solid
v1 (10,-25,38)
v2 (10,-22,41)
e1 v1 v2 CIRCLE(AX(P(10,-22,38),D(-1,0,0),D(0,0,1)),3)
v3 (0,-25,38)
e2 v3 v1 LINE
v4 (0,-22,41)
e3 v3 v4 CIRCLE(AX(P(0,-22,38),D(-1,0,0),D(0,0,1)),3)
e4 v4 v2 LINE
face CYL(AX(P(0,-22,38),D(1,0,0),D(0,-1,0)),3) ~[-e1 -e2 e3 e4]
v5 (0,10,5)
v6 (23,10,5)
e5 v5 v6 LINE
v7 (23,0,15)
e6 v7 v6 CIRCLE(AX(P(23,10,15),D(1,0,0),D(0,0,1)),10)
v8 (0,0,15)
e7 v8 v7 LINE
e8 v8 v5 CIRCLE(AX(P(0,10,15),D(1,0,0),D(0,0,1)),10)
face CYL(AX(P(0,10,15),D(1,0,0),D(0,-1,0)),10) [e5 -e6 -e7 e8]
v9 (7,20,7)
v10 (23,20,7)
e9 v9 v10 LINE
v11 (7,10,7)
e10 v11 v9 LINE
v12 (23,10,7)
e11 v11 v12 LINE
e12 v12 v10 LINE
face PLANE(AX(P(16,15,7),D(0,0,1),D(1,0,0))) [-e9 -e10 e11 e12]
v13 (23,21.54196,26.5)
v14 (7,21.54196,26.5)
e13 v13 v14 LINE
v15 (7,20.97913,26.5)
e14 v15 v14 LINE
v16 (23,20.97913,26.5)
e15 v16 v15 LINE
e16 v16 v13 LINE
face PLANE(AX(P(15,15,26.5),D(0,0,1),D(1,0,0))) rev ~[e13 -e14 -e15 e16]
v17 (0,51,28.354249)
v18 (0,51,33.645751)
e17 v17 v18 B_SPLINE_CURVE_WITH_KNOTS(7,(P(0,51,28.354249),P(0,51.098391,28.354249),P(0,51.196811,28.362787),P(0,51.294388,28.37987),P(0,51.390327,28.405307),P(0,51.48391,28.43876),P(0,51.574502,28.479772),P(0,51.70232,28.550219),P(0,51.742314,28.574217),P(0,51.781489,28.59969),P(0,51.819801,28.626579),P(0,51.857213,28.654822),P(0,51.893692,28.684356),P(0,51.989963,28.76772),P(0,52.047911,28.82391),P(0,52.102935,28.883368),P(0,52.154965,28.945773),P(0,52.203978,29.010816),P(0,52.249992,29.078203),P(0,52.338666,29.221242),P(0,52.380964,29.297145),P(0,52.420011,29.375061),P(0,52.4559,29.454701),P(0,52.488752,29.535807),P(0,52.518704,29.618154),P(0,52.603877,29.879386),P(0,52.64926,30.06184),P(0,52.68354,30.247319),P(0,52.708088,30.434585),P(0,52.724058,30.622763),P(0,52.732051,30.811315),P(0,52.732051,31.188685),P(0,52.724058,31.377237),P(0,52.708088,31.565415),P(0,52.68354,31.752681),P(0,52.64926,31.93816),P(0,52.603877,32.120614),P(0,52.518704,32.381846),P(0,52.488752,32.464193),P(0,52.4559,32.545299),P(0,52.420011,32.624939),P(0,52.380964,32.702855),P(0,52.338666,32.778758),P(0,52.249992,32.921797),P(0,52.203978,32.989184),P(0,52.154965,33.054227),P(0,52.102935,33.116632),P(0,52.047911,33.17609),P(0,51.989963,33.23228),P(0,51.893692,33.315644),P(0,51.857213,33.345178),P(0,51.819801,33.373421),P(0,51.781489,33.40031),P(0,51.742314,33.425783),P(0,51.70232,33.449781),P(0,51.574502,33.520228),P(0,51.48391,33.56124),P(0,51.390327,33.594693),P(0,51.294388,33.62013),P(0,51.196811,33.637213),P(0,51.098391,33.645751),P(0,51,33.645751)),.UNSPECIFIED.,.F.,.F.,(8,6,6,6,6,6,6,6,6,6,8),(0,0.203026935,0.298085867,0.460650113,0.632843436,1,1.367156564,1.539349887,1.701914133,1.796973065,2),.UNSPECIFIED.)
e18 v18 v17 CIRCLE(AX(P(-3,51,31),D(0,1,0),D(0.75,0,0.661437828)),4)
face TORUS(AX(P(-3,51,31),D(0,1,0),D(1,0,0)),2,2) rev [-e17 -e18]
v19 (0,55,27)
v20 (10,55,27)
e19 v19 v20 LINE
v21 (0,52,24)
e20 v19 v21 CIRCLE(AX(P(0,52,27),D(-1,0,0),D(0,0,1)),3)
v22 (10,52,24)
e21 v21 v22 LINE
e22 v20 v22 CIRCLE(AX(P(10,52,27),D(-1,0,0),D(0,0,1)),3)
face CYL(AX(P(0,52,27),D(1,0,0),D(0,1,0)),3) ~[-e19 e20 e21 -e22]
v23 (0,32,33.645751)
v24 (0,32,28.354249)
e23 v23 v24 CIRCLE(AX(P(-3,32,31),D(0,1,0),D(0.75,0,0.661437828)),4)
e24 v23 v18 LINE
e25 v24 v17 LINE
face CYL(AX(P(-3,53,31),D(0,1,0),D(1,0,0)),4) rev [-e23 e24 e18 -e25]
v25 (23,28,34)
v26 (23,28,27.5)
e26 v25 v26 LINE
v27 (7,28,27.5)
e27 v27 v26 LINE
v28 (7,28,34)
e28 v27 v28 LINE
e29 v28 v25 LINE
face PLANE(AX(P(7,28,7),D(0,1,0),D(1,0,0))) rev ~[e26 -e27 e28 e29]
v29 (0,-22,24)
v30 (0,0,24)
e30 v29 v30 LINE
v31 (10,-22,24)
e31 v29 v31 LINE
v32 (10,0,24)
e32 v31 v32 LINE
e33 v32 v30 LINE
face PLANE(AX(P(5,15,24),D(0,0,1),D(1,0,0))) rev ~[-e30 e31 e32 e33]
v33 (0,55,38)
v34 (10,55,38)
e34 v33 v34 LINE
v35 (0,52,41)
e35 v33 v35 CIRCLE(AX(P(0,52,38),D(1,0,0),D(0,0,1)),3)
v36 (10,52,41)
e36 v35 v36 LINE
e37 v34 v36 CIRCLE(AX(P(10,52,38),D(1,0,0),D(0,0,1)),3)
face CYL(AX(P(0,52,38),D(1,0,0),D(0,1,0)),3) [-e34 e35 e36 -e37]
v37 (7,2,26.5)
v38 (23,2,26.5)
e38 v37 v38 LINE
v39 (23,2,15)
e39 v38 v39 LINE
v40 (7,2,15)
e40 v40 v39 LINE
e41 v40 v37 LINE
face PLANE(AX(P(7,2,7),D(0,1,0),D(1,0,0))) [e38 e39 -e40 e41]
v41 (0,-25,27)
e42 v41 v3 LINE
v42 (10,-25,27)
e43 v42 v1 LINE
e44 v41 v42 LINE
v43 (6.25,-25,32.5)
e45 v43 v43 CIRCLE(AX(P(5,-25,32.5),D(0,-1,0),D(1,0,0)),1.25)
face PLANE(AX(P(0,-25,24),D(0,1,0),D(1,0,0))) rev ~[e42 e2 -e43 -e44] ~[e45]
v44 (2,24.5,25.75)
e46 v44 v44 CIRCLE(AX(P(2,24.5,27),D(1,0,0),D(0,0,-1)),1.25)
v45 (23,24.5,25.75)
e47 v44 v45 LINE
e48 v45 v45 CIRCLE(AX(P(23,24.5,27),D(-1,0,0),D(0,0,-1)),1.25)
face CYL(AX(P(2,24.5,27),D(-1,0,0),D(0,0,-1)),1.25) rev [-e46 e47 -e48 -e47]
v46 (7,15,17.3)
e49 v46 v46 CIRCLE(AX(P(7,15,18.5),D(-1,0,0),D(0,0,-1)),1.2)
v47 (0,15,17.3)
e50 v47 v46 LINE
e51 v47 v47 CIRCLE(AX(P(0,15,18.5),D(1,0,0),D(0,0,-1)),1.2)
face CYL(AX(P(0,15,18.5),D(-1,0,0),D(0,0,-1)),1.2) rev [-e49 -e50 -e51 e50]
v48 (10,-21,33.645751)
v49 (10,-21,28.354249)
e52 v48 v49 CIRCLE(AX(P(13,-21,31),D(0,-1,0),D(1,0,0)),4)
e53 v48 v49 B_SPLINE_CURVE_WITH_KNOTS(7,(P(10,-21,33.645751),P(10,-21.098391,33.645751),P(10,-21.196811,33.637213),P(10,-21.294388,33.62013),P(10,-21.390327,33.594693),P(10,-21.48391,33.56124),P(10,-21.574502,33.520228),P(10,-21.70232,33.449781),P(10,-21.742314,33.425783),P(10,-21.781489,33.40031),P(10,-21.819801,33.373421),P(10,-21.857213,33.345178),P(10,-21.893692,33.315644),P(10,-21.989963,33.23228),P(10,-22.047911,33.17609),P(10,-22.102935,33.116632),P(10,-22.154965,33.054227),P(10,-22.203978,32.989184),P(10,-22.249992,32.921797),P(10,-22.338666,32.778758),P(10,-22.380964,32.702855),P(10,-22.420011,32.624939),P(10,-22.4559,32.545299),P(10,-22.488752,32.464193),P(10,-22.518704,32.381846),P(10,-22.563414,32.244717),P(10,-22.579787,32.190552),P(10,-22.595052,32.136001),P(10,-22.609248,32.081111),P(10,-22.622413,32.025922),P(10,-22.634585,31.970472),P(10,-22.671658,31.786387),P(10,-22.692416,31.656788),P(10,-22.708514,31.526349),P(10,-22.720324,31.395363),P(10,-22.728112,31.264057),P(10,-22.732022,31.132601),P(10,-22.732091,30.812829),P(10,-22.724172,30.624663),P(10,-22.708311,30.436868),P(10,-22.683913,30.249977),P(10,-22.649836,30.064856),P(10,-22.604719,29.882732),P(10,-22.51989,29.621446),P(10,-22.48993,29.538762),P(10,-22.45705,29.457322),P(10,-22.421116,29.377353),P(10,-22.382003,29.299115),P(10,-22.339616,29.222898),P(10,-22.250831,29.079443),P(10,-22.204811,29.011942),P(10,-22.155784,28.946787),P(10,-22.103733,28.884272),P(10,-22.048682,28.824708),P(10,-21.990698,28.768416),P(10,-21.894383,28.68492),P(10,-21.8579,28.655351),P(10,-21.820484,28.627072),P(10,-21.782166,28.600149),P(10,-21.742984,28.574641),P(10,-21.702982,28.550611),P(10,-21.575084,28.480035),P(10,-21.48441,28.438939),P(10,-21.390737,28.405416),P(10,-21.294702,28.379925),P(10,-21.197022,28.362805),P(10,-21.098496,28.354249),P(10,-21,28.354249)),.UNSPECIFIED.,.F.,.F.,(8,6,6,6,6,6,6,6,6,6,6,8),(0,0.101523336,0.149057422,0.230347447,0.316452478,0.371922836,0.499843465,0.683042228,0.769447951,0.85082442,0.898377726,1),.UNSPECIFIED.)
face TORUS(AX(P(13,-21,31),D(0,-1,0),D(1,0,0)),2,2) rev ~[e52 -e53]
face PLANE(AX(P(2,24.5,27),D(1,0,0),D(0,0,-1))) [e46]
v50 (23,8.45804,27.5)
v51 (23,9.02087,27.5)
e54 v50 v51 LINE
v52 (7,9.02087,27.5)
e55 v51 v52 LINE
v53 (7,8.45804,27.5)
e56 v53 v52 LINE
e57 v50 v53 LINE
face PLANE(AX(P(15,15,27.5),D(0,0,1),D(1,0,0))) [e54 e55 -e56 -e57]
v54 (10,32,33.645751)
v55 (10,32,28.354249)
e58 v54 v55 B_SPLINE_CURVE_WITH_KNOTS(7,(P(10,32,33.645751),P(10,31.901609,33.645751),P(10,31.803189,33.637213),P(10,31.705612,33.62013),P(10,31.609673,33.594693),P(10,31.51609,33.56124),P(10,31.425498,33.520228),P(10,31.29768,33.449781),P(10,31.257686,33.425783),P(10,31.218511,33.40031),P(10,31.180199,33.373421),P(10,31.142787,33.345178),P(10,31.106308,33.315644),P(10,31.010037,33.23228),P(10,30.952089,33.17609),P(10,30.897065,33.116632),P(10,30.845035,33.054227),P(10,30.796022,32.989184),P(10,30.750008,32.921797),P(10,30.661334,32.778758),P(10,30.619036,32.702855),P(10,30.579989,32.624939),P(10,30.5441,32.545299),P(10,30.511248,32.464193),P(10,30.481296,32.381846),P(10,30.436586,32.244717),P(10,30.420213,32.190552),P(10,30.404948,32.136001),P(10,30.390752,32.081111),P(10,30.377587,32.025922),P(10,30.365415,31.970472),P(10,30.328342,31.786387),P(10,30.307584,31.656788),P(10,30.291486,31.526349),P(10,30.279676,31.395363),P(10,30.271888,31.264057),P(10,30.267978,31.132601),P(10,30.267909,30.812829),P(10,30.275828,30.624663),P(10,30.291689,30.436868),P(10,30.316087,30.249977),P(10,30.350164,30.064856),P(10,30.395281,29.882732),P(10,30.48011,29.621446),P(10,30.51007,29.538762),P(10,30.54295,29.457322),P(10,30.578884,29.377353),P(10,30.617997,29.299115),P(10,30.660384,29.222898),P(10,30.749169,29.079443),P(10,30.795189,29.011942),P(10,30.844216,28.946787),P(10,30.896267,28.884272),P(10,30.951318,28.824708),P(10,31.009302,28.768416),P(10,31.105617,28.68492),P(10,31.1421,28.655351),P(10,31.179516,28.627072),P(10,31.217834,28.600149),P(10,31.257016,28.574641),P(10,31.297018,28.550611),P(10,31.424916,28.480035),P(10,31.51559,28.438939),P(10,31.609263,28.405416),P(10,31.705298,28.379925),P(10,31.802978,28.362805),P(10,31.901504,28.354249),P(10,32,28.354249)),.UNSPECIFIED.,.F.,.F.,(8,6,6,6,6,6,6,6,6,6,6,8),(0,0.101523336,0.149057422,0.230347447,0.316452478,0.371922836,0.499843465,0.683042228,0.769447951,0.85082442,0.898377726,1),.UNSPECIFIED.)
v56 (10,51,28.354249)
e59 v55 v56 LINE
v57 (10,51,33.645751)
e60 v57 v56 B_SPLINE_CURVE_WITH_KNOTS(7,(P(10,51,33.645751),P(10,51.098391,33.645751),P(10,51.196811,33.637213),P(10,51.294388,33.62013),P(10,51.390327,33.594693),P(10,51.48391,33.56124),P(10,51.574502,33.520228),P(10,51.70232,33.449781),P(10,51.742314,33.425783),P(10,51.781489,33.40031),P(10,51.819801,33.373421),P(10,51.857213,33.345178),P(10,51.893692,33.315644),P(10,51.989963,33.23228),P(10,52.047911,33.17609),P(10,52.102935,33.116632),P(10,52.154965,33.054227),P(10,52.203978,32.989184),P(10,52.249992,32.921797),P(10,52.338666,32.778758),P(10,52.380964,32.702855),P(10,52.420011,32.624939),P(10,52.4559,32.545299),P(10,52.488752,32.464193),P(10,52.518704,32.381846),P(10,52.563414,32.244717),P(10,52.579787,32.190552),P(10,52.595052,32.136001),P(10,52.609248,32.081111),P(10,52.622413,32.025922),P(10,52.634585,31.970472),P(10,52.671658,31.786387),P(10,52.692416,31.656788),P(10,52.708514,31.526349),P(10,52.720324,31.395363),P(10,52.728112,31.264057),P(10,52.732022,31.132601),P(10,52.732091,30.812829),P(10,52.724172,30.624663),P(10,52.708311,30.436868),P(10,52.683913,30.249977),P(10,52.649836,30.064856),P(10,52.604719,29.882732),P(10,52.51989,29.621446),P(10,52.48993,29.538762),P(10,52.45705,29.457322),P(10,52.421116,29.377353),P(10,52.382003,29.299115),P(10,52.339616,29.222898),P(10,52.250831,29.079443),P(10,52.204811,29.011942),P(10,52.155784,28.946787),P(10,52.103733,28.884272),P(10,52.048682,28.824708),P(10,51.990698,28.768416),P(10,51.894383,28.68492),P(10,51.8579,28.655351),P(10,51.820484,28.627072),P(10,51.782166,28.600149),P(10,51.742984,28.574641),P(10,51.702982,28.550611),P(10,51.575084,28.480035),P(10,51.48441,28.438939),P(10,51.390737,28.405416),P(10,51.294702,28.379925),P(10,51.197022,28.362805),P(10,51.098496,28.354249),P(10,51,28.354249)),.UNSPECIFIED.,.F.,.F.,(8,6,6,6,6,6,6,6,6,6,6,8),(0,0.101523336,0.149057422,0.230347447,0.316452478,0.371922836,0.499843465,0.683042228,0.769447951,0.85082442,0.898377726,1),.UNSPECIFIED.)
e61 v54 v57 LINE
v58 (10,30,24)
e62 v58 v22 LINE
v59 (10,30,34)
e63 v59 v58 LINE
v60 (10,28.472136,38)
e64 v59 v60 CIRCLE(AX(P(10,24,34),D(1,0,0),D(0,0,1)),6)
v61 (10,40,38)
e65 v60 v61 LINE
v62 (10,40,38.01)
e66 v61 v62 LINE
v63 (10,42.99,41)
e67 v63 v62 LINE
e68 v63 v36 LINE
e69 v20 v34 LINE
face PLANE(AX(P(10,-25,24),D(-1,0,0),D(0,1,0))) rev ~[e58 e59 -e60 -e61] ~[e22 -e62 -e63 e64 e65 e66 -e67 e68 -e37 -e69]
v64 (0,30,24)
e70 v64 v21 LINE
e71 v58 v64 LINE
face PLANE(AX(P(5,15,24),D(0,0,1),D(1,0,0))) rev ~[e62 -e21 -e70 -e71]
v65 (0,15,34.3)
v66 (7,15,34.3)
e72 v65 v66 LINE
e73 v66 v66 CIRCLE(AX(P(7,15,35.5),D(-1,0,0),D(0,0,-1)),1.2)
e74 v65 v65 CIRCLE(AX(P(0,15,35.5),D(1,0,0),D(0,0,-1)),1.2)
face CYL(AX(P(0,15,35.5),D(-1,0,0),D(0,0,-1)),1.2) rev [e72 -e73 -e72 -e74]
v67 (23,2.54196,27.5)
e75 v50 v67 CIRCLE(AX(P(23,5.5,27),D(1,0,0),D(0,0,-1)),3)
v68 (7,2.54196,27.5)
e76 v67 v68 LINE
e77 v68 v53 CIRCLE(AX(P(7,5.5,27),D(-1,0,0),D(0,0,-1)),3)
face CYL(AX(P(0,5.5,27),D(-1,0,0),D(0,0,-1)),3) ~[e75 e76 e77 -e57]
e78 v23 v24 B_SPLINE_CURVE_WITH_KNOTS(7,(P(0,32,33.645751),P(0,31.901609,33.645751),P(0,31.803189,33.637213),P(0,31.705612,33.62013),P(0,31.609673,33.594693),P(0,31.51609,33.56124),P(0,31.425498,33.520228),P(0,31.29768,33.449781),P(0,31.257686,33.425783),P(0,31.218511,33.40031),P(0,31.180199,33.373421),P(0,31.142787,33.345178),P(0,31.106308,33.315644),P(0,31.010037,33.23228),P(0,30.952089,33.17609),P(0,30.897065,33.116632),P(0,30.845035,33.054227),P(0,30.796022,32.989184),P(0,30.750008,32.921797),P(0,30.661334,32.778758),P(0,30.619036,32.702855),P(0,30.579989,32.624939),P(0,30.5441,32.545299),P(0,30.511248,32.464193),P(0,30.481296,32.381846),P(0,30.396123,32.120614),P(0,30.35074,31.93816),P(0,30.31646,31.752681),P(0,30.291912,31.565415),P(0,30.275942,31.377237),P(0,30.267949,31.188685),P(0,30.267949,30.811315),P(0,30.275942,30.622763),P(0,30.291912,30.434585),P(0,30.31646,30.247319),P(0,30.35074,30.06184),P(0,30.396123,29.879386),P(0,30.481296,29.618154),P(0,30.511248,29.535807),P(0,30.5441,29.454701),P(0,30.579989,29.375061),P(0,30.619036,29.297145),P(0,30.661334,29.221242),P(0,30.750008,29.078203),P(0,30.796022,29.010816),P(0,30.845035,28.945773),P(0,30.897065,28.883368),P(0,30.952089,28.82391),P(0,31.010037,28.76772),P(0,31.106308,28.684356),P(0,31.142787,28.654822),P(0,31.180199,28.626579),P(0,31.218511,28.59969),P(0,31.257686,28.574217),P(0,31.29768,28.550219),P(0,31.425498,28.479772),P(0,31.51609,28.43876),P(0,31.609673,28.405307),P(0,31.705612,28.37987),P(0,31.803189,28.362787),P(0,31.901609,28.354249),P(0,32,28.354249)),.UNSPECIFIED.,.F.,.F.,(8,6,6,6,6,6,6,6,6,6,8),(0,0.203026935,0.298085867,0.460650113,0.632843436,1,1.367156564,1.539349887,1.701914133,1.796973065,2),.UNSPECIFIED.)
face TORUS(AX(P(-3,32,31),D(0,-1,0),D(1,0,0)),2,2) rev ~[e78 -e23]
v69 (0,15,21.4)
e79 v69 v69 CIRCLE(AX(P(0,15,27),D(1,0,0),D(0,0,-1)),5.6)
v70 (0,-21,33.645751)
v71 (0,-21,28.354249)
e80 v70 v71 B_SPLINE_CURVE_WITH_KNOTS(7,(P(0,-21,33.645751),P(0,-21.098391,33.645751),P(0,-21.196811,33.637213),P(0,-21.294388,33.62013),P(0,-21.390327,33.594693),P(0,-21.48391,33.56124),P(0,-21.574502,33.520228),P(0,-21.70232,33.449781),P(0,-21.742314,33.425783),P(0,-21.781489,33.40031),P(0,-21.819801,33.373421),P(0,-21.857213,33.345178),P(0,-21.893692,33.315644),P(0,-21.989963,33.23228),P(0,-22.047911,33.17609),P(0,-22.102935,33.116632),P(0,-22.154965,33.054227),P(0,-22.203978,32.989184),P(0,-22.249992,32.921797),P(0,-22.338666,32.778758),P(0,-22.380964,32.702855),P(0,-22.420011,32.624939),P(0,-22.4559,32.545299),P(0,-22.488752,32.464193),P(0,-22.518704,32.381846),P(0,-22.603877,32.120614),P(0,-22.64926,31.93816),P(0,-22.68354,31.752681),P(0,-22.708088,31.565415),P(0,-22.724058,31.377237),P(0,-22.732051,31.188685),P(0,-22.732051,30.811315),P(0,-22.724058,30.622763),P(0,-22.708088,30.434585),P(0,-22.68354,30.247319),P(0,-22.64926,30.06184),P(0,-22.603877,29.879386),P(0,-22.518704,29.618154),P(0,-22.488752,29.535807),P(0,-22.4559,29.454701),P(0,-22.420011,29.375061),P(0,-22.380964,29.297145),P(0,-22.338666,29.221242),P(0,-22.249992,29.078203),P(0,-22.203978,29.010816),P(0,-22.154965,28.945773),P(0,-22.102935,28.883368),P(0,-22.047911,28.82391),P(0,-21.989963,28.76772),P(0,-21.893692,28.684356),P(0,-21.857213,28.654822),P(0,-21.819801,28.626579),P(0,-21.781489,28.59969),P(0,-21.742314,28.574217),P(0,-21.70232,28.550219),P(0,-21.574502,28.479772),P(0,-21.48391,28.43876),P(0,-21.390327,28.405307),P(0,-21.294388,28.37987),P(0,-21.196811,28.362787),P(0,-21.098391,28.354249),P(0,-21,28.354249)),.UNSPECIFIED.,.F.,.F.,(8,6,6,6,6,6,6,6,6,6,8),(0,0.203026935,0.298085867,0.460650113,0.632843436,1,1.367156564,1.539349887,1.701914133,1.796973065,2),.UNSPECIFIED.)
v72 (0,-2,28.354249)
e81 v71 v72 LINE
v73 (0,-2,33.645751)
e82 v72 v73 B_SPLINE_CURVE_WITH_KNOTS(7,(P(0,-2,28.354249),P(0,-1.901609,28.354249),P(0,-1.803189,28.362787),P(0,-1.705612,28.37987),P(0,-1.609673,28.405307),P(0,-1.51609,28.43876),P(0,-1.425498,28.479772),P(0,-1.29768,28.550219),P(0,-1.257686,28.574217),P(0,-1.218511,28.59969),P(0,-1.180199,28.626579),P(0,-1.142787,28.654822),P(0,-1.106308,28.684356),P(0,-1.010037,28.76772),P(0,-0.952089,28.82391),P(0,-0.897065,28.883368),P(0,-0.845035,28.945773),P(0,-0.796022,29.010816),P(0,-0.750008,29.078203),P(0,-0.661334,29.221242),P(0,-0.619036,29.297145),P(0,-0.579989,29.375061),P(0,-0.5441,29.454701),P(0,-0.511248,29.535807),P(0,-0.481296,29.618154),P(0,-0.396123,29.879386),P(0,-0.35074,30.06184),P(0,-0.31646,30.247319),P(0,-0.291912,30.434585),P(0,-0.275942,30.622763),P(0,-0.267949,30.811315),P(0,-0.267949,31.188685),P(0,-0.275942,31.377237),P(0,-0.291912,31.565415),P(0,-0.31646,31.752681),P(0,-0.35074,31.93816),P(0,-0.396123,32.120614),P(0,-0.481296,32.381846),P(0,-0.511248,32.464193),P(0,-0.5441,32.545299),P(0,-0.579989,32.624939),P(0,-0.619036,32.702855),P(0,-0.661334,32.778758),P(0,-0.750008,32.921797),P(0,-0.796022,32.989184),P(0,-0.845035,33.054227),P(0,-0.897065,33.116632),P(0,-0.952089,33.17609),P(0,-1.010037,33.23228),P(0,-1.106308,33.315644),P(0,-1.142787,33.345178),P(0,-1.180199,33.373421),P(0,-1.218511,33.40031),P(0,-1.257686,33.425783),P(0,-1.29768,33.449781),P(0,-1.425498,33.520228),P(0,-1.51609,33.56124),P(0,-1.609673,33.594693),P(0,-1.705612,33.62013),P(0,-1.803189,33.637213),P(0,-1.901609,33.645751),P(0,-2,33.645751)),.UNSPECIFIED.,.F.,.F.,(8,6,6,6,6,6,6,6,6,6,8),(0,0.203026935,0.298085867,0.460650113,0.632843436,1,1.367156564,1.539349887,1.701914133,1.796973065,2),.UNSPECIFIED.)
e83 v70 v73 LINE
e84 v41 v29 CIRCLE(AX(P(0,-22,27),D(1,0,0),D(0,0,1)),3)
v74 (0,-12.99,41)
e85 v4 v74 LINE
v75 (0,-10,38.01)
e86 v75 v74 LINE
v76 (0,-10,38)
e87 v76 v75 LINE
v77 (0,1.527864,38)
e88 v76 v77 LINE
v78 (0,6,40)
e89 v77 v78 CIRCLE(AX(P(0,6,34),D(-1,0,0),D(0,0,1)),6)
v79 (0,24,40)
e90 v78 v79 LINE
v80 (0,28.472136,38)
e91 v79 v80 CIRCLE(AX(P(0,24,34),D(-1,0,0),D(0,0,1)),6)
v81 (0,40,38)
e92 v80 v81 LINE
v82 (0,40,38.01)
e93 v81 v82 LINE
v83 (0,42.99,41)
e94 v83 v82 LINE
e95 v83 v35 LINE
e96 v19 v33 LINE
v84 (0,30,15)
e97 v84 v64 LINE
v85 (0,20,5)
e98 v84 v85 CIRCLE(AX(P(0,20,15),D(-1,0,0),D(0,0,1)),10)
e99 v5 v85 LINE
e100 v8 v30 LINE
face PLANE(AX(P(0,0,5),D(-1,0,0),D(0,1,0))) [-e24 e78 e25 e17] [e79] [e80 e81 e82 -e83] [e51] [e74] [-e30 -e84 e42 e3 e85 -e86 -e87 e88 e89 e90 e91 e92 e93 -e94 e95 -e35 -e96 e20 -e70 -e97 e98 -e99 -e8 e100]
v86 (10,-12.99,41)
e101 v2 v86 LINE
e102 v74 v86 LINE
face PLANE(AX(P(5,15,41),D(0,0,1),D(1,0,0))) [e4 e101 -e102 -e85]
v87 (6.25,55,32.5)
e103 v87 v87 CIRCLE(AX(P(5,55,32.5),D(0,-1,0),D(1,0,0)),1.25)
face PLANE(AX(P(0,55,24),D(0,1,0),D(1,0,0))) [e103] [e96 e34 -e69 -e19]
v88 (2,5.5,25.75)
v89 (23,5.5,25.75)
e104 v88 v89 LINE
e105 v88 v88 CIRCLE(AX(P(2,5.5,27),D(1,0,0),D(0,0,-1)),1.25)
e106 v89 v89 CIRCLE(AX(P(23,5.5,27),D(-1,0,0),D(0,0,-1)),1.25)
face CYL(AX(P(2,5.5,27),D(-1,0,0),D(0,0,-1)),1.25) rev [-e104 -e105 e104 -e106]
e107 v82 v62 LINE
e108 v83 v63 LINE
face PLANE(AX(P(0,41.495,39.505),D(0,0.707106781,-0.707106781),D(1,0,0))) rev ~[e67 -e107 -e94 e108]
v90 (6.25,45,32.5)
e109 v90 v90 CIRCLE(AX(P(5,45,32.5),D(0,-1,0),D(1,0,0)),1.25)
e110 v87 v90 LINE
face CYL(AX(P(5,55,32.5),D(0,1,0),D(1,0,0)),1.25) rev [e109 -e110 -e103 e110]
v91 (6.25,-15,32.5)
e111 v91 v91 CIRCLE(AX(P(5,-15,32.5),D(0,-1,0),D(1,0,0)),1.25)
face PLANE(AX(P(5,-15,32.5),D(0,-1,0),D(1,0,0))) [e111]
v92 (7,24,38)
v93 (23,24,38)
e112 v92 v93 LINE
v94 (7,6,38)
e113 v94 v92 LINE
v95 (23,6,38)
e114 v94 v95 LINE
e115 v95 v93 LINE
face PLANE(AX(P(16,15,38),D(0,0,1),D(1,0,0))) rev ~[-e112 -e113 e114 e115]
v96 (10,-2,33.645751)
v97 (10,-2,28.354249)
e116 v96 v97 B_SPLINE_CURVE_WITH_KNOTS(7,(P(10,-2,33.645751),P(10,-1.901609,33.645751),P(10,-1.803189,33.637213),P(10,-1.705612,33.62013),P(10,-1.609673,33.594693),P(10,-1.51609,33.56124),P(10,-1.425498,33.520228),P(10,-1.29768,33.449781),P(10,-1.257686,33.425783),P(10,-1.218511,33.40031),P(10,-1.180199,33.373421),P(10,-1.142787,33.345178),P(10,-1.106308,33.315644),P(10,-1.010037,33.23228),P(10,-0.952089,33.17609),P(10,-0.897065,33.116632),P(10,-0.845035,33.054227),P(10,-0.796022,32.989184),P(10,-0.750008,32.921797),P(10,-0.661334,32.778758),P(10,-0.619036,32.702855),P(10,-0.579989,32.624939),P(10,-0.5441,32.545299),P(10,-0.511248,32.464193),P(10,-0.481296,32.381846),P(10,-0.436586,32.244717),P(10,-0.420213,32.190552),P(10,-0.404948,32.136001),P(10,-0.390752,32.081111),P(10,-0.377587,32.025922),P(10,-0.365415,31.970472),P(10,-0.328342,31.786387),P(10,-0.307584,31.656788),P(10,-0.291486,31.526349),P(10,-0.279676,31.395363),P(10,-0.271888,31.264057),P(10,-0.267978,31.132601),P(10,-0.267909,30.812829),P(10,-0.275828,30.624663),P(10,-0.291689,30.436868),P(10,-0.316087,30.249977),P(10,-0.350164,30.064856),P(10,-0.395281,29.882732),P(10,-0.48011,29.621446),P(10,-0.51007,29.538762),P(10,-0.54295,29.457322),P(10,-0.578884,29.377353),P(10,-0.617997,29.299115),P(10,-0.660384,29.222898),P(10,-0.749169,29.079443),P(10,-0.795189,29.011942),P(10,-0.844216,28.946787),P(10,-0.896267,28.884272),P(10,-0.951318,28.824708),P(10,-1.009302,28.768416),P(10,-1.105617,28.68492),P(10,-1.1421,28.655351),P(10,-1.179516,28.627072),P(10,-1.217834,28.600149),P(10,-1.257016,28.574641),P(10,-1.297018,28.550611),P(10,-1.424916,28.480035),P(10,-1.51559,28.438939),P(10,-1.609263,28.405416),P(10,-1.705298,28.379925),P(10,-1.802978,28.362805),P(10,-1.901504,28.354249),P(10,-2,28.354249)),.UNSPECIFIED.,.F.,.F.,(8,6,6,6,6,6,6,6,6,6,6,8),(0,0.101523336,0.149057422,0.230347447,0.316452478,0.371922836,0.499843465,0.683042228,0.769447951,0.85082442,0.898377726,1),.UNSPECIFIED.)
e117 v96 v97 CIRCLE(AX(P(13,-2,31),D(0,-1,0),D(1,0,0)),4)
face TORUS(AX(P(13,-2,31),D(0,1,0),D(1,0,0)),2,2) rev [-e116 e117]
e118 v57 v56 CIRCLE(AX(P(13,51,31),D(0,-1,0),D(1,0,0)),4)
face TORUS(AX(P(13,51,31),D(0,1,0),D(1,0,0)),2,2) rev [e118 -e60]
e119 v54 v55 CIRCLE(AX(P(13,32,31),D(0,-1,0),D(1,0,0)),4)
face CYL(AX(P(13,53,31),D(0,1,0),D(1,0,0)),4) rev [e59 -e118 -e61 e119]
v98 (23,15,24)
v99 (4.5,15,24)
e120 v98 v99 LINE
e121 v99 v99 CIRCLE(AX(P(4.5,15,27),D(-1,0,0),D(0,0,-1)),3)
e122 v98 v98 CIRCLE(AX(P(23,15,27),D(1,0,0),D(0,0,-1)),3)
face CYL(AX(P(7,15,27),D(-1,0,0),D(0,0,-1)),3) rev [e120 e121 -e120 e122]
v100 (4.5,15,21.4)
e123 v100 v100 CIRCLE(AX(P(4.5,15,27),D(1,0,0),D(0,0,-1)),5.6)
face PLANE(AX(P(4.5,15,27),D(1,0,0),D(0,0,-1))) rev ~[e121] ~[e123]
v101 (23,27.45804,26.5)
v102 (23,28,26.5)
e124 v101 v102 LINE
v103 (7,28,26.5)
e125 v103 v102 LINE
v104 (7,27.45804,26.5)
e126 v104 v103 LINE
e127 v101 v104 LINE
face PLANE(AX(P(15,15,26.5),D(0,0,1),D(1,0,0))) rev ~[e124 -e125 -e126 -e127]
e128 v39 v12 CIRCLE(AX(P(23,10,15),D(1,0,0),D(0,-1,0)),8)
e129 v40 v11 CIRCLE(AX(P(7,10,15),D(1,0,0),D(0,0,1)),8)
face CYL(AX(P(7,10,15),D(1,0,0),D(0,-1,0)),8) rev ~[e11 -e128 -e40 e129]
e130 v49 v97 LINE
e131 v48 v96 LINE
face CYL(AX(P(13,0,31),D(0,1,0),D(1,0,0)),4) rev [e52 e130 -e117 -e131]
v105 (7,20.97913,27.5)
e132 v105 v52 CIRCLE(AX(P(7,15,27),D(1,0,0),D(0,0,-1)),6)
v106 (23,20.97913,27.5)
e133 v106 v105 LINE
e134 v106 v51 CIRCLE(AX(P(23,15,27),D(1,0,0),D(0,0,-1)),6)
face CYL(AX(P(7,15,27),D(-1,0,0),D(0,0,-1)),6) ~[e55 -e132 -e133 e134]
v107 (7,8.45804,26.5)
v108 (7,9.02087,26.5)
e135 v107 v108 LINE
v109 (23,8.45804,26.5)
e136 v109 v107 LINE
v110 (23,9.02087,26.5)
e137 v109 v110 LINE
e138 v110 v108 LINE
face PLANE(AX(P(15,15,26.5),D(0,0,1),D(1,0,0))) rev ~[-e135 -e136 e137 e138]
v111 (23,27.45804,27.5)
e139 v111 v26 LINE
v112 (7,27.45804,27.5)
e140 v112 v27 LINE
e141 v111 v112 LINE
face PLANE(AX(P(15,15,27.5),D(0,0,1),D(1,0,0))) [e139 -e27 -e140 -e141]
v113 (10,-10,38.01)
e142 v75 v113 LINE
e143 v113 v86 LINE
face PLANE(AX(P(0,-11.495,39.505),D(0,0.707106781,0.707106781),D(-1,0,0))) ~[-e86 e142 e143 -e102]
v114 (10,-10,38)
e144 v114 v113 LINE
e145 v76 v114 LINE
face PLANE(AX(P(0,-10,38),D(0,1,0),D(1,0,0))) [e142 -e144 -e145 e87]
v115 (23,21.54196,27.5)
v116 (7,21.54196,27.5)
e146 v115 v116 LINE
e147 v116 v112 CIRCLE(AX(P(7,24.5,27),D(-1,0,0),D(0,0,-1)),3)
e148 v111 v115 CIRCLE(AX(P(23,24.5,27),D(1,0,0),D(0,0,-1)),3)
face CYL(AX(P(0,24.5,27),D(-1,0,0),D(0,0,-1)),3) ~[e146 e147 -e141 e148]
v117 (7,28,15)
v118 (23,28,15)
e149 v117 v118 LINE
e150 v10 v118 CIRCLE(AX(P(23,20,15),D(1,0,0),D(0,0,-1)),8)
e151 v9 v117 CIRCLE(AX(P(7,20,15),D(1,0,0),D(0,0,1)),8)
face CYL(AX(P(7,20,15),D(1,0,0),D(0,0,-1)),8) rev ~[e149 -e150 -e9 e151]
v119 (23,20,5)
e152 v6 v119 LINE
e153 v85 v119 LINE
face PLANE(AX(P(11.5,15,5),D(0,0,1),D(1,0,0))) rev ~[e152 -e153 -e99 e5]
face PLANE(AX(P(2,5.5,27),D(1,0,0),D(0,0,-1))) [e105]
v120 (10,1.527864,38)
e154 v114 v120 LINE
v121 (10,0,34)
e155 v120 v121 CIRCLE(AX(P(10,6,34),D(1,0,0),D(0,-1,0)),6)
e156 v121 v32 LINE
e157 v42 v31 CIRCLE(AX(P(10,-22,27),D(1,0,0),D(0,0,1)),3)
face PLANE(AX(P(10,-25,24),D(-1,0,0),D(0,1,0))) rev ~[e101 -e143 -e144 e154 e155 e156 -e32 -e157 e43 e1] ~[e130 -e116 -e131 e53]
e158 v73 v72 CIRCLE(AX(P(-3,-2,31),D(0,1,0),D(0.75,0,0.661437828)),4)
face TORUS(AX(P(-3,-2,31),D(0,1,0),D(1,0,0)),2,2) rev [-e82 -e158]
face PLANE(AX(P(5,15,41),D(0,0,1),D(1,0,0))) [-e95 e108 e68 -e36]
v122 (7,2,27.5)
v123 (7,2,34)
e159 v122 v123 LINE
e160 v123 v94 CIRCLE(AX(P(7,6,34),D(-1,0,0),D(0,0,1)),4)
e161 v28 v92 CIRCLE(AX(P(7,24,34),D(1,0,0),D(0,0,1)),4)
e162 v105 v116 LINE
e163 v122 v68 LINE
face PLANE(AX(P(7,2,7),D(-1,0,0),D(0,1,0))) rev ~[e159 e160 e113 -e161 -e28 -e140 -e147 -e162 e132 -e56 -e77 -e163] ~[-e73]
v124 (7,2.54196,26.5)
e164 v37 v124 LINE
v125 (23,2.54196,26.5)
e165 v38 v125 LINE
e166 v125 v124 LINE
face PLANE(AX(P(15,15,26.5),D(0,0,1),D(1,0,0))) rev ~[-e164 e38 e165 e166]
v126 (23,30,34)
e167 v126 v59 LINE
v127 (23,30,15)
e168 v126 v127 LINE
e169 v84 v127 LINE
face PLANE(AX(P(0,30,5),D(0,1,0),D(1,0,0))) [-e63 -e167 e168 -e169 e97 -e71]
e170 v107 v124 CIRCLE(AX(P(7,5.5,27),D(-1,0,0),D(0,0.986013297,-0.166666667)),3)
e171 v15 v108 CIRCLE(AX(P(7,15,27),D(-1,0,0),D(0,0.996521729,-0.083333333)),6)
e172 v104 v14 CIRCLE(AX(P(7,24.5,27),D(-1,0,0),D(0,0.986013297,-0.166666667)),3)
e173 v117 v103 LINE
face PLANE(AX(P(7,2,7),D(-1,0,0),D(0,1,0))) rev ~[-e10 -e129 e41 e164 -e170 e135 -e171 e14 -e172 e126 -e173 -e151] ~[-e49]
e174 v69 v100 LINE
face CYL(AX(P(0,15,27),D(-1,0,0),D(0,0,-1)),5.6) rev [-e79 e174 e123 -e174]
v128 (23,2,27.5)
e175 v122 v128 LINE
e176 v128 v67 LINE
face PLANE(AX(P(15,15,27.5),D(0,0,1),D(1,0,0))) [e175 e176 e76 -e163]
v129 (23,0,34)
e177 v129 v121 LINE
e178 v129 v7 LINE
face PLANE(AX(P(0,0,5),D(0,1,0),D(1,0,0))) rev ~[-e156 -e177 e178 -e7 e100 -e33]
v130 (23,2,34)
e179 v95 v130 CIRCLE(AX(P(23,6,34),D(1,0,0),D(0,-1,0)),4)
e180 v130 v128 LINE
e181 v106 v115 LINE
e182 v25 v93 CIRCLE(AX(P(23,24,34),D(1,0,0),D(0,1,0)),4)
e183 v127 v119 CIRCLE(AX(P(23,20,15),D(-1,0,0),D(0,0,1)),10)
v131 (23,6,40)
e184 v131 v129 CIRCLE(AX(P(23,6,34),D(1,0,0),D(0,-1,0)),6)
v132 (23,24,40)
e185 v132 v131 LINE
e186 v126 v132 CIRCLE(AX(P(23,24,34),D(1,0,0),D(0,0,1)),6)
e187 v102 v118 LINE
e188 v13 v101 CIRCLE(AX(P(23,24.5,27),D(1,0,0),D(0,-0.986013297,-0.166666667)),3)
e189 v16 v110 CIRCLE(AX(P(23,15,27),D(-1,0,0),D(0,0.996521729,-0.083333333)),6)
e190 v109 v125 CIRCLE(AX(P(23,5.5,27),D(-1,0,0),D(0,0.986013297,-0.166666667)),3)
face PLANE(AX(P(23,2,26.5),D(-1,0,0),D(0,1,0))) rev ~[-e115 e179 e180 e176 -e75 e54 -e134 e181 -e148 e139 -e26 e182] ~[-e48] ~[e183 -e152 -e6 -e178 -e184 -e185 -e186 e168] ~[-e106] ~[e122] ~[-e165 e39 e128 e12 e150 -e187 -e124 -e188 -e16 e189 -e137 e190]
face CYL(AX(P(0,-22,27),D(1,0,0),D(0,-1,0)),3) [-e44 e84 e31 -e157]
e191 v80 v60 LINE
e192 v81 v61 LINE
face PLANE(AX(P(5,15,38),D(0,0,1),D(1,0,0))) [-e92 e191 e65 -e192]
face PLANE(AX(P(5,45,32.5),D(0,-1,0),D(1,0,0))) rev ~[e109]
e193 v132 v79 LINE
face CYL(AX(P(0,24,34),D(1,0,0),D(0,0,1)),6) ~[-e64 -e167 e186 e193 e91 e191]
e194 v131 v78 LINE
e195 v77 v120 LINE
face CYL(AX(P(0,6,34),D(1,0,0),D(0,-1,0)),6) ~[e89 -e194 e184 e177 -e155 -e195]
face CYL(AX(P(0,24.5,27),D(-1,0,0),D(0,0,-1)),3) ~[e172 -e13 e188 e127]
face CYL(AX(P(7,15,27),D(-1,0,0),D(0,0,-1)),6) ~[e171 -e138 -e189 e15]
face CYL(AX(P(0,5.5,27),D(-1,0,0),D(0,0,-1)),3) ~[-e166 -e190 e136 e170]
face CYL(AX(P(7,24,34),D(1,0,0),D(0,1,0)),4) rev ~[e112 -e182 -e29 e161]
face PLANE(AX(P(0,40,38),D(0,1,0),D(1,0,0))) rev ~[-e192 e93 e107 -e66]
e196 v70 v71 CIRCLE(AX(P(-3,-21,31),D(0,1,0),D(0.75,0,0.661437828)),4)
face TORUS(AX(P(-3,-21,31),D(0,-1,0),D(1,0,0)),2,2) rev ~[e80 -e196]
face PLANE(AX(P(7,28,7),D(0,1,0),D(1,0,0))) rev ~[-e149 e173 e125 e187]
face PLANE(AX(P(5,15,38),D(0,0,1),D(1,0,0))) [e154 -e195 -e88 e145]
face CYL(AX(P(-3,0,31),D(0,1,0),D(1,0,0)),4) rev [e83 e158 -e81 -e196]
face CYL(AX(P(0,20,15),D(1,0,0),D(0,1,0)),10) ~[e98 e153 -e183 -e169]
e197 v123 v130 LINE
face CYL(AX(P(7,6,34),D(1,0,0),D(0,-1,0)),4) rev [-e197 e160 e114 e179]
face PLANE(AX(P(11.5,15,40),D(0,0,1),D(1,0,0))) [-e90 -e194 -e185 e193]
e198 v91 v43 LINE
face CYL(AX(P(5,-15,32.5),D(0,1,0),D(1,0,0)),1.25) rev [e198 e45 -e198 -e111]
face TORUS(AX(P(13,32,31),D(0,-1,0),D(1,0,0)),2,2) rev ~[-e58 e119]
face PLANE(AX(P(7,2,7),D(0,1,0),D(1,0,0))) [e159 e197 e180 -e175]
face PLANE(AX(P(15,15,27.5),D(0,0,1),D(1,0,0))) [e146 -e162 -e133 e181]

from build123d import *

# Parameters (mm, degrees)
CYLINDER105_R           = 1.2
CYLINDER105_DEPTH       = 10
CYLINDER105_PITCH_ANGLE = 90
CYLINDER106_R           = 1.2
CYLINDER106_DEPTH       = 10
CYLINDER106_PITCH_ANGLE = 90
CYLINDER086_R           = 1.25
CYLINDER086_DEPTH       = 23
CYLINDER086_PITCH_ANGLE = 90
CYLINDER085_R           = 1.25
CYLINDER085_DEPTH       = 23
CYLINDER085_PITCH_ANGLE = 90
CYLINDER083_R           = 3
CYLINDER083_DEPTH       = 23
CYLINDER083_PITCH_ANGLE = 90
CYLINDER075_R           = 3
CYLINDER075_DEPTH       = 16
CYLINDER075_PITCH_ANGLE = 90
BOX020_W                = 16
BOX020_H                = 26
BOX020_DEPTH            = 1
CYLINDER076_R           = 6
CYLINDER076_DEPTH       = 16
CYLINDER076_PITCH_ANGLE = 90
BOX019_W                = 18
BOX019_H                = 26
BOX019_DEPTH            = 31
FILLET027_R             = 4
FILLET028_R             = 8
BOX018_W                = 23
BOX018_H                = 80
BOX018_DEPTH            = 41
CYLINDER051_R           = 1.25
CYLINDER051_DEPTH       = 10
CYLINDER051_ROLL_ANGLE  = 90
CYLINDER053_R           = 1.25
CYLINDER053_DEPTH       = 10
CYLINDER053_ROLL_ANGLE  = 90
CYLINDER039_R           = 4
CYLINDER039_DEPTH       = 23
CYLINDER039_ROLL_ANGLE  = 90
FILLET012_R             = 2
CYLINDER037_R           = 4
CYLINDER037_DEPTH       = 23
CYLINDER037_ROLL_ANGLE  = 90
FILLET011_R             = 2
CYLINDER038_R           = 4
CYLINDER038_DEPTH       = 23
CYLINDER038_ROLL_ANGLE  = 90
FILLET013_R             = 2
CYLINDER036_R           = 4
CYLINDER036_DEPTH       = 23
CYLINDER036_ROLL_ANGLE  = 90
FILLET010_R             = 2
CYLINDER030_R           = 5.6
CYLINDER030_DEPTH       = 4.5
CYLINDER030_PITCH_ANGLE = 90
CYLINDER029_R           = 5.6
CYLINDER029_DEPTH       = 4.5
CYLINDER029_PITCH_ANGLE = 90
CYLINDER031_R           = 3
CYLINDER031_DEPTH       = 33
CYLINDER031_PITCH_ANGLE = 90
CYLINDER027_R           = 1.25
CYLINDER027_DEPTH       = 15
CYLINDER027_PITCH_ANGLE = 90
CYLINDER026_R           = 1.25
CYLINDER026_DEPTH       = 15
CYLINDER026_PITCH_ANGLE = 90
CYLINDER025_R           = 1.25
CYLINDER025_DEPTH       = 15
CYLINDER025_PITCH_ANGLE = 90
CYLINDER024_R           = 1.25
CYLINDER024_DEPTH       = 15
CYLINDER024_PITCH_ANGLE = 90
CYLINDER023_R           = 17
CYLINDER023_DEPTH       = 10
CYLINDER023_PITCH_ANGLE = 90
BOX008_W                = 22
BOX008_H                = 36
BOX008_DEPTH            = 40
CYLINDER_R              = 17
CYLINDER_DEPTH          = 17
CYLINDER_PITCH_ANGLE    = 90
BOX005_W                = 23
BOX005_H                = 30
BOX005_DEPTH            = 35
FILLET008_R             = 10
FILLET009_R             = 6
BOX006_W                = 32
BOX006_H                = 30
BOX006_DEPTH            = 40
FILLET_R                = 10
FILLET007_R             = 6
BOX004_W                = 10
BOX004_H                = 50
BOX004_DEPTH            = 3
BOX003_W                = 10
BOX003_H                = 80
BOX003_DEPTH            = 17
FILLET006_R             = 3
CHAMFER_SIZE            = 2.99
CYLINDER084_R           = 3
CYLINDER084_DEPTH       = 23
CYLINDER084_PITCH_ANGLE = 90


with BuildPart() as cylinder105:
    # Cylinder105 → Cylinder105 (new body)
    with BuildSketch(Plane.XY):
        Circle(CYLINDER105_R)
    extrude(amount=CYLINDER105_DEPTH)


with BuildPart() as cylinder105_1:
    # Cylinder105 pitch: moved
    add(cylinder105.part.rotate(Axis((0, 0, 0), (0, 1, 0)), CYLINDER105_PITCH_ANGLE))


with BuildPart() as cylinder105_2:
    # Cylinder105 placement: moved
    add(cylinder105_1.part.moved(Location((0, 15, 35.5))))


with BuildPart() as fusion055:
    # Cylinder106 → Cylinder106 (new body)
    with BuildSketch(Plane.XY):
        Circle(CYLINDER106_R)
    extrude(amount=CYLINDER106_DEPTH)


with BuildPart() as fusion055_1:
    # Cylinder106 pitch: moved
    add(fusion055.part.rotate(Axis((0, 0, 0), (0, 1, 0)), CYLINDER106_PITCH_ANGLE))


with BuildPart() as fusion055_2:
    # Cylinder106 placement: moved
    add(fusion055_1.part.moved(Location((0, 15, 18.5))))

    # Fusion055: union Cylinder105
    add(cylinder105_2.part)


with BuildPart() as cylinder086:
    # Cylinder086 → Cylinder086 (new body)
    with BuildSketch(Plane.XY):
        Circle(CYLINDER086_R)
    extrude(amount=CYLINDER086_DEPTH)


with BuildPart() as cylinder086_1:
    # Cylinder086 pitch: moved
    add(cylinder086.part.rotate(Axis((0, 0, 0), (0, 1, 0)), CYLINDER086_PITCH_ANGLE))


with BuildPart() as cylinder086_2:
    # Cylinder086 placement: moved
    add(cylinder086_1.part.moved(Location((0, 5.5, 27))))


with BuildPart() as fusion048:
    # Cylinder085 → Cylinder085 (new body)
    with BuildSketch(Plane.XY):
        Circle(CYLINDER085_R)
    extrude(amount=CYLINDER085_DEPTH)


with BuildPart() as fusion048_1:
    # Cylinder085 pitch: moved
    add(fusion048.part.rotate(Axis((0, 0, 0), (0, 1, 0)), CYLINDER085_PITCH_ANGLE))


with BuildPart() as fusion048_2:
    # Cylinder085 placement: moved
    add(fusion048_1.part.moved(Location((0, 24.5, 27))))

    # Fusion048: union Cylinder086
    add(cylinder086_2.part)


with BuildPart() as fusion048_3:
    # Fusion048 placement: moved
    add(fusion048_2.part.moved(Location((2, 0, 0))))


with BuildPart() as cylinder083:
    # Cylinder083 → Cylinder083 (new body)
    with BuildSketch(Plane.XY):
        Circle(CYLINDER083_R)
    extrude(amount=CYLINDER083_DEPTH)


with BuildPart() as cylinder083_1:
    # Cylinder083 pitch: moved
    add(cylinder083.part.rotate(Axis((0, 0, 0), (0, 1, 0)), CYLINDER083_PITCH_ANGLE))


with BuildPart() as cylinder083_2:
    # Cylinder083 placement: moved
    add(cylinder083_1.part.moved(Location((0, 5.5, 27))))


with BuildPart() as cylinder075:
    # Cylinder075 → Cylinder075 (new body)
    with BuildSketch(Plane.XY):
        Circle(CYLINDER075_R)
    extrude(amount=CYLINDER075_DEPTH)


with BuildPart() as cylinder075_1:
    # Cylinder075 pitch: moved
    add(cylinder075.part.rotate(Axis((0, 0, 0), (0, 1, 0)), CYLINDER075_PITCH_ANGLE))


with BuildPart() as cylinder075_2:
    # Cylinder075 placement: moved
    add(cylinder075_1.part.moved(Location((7, 15, 27))))


with BuildPart() as cube007:
    # Box020 → Box020 (new body)
    with BuildSketch(Plane(origin=(7, 2, 26.5), x_dir=(1, 0, 0), z_dir=(0, 0, 1))):
        with Locations((8, 13)):
            Rectangle(BOX020_W, BOX020_H)
    extrude(amount=BOX020_DEPTH)


with BuildPart() as cut034:
    # Cylinder076 → Cylinder076 (new body)
    with BuildSketch(Plane.XY):
        Circle(CYLINDER076_R)
    extrude(amount=CYLINDER076_DEPTH)


with BuildPart() as cut034_1:
    # Cylinder076 pitch: moved
    add(cut034.part.rotate(Axis((0, 0, 0), (0, 1, 0)), CYLINDER076_PITCH_ANGLE))


with BuildPart() as cut034_2:
    # Cylinder076 placement: moved
    add(cut034_1.part.moved(Location((7, 15, 27))))

    # Fusion039: union Cube007
    add(cube007.part)

    # Cut034: cut Cylinder075
    add(cylinder075_2.part, mode=Mode.SUBTRACT)


with BuildPart() as fillet028:
    # Box019 → Box019 (new body)
    with BuildSketch(Plane(origin=(5, 2, 7), x_dir=(1, 0, 0), z_dir=(0, 0, 1))):
        with Locations((9, 13)):
            Rectangle(BOX019_W, BOX019_H)
    extrude(amount=BOX019_DEPTH)

    # Fillet027
    fillet027_edges = [fillet028.edges().sort_by_distance(p)[0] for p in [
        (14, 2, 38),
        (14, 28, 38),
    ]]
    fillet(fillet027_edges, radius=FILLET027_R)

    # Fillet028
    fillet028_edges = [fillet028.edges().sort_by_distance(p)[0] for p in [
        (14, 2, 7),
        (14, 28, 7),
    ]]
    fillet(fillet028_edges, radius=FILLET028_R)


with BuildPart() as fillet028_1:
    # Fillet028 placement: moved
    add(fillet028.part.moved(Location((2, 0, 0))))


with BuildPart() as box018:
    # Box018 → Box018 (new body)
    with BuildSketch(Plane(origin=(23, -25, 0), x_dir=(1, 0, 0), z_dir=(0, 0, 1))):
        with Locations((11.5, 40)):
            Rectangle(BOX018_W, BOX018_H)
    extrude(amount=BOX018_DEPTH)


with BuildPart() as cylinder051:
    # Cylinder051 → Cylinder051 (new body)
    with BuildSketch(Plane.XY):
        Circle(CYLINDER051_R)
    extrude(amount=CYLINDER051_DEPTH)


with BuildPart() as cylinder051_1:
    # Cylinder051 roll: moved
    add(cylinder051.part.rotate(Axis((0, 0, 0), (1, 0, 0)), CYLINDER051_ROLL_ANGLE))


with BuildPart() as cylinder051_2:
    # Cylinder051 placement: moved
    add(cylinder051_1.part.moved(Location((5, 55, 32.5))))


with BuildPart() as fusion026:
    # Cylinder053 → Cylinder053 (new body)
    with BuildSketch(Plane.XY):
        Circle(CYLINDER053_R)
    extrude(amount=CYLINDER053_DEPTH)


with BuildPart() as fusion026_1:
    # Cylinder053 roll: moved
    add(fusion026.part.rotate(Axis((0, 0, 0), (1, 0, 0)), CYLINDER053_ROLL_ANGLE))


with BuildPart() as fusion026_2:
    # Cylinder053 placement: moved
    add(fusion026_1.part.moved(Location((5, -15, 32.5))))

    # Fusion026: union Cylinder051
    add(cylinder051_2.part)


with BuildPart() as fillet012:
    # Cylinder039 → Cylinder039 (new body)
    with BuildSketch(Plane.XY):
        Circle(CYLINDER039_R)
    extrude(amount=CYLINDER039_DEPTH)


with BuildPart() as fillet012_1:
    # Cylinder039 roll: moved
    add(fillet012.part.rotate(Axis((0, 0, 0), (1, 0, 0)), CYLINDER039_ROLL_ANGLE))


with BuildPart() as fillet012_2:
    # Cylinder039 placement: moved
    add(fillet012_1.part.moved(Location((-3, 0, 31))))

    # Fillet012
    fillet012_edges = [fillet012_2.edges().sort_by_distance(p)[0] for p in [
        (-7, -23, 31),
        (-7, 0, 31),
    ]]
    fillet(fillet012_edges, radius=FILLET012_R)


with BuildPart() as fillet012_3:
    # Fillet012 placement: moved
    add(fillet012_2.part.moved(Location((16, 0, 0))))


with BuildPart() as fillet011:
    # Cylinder037 → Cylinder037 (new body)
    with BuildSketch(Plane.XY):
        Circle(CYLINDER037_R)
    extrude(amount=CYLINDER037_DEPTH)


with BuildPart() as fillet011_1:
    # Cylinder037 roll: moved
    add(fillet011.part.rotate(Axis((0, 0, 0), (1, 0, 0)), CYLINDER037_ROLL_ANGLE))


with BuildPart() as fillet011_2:
    # Cylinder037 placement: moved
    add(fillet011_1.part.moved(Location((-3, 0, 31))))

    # Fillet011
    fillet011_edges = [fillet011_2.edges().sort_by_distance(p)[0] for p in [
        (-7, -23, 31),
        (-7, 0, 31),
    ]]
    fillet(fillet011_edges, radius=FILLET011_R)


with BuildPart() as fillet011_3:
    # Fillet011 placement: moved
    add(fillet011_2.part.moved(Location((0, 53, 0))))


with BuildPart() as fillet013:
    # Cylinder038 → Cylinder038 (new body)
    with BuildSketch(Plane.XY):
        Circle(CYLINDER038_R)
    extrude(amount=CYLINDER038_DEPTH)


with BuildPart() as fillet013_1:
    # Cylinder038 roll: moved
    add(fillet013.part.rotate(Axis((0, 0, 0), (1, 0, 0)), CYLINDER038_ROLL_ANGLE))


with BuildPart() as fillet013_2:
    # Cylinder038 placement: moved
    add(fillet013_1.part.moved(Location((-3, 0, 31))))

    # Fillet013
    fillet013_edges = [fillet013_2.edges().sort_by_distance(p)[0] for p in [
        (-7, -23, 31),
        (-7, 0, 31),
    ]]
    fillet(fillet013_edges, radius=FILLET013_R)


with BuildPart() as fillet013_3:
    # Fillet013 placement: moved
    add(fillet013_2.part.moved(Location((16, 53, 0))))


with BuildPart() as fusion020:
    # Cylinder036 → Cylinder036 (new body)
    with BuildSketch(Plane.XY):
        Circle(CYLINDER036_R)
    extrude(amount=CYLINDER036_DEPTH)


with BuildPart() as fusion020_1:
    # Cylinder036 roll: moved
    add(fusion020.part.rotate(Axis((0, 0, 0), (1, 0, 0)), CYLINDER036_ROLL_ANGLE))


with BuildPart() as fusion020_2:
    # Cylinder036 placement: moved
    add(fusion020_1.part.moved(Location((-3, 0, 31))))

    # Fillet010
    fillet010_edges = [fusion020_2.edges().sort_by_distance(p)[0] for p in [
        (-7, -23, 31),
        (-7, 0, 31),
    ]]
    fillet(fillet010_edges, radius=FILLET010_R)

    # Fusion020: union Fillet012, Fillet011, Fillet013
    add(fillet012_3.part)
    add(fillet011_3.part)
    add(fillet013_3.part)


with BuildPart() as cylinder030:
    # Cylinder030 → Cylinder030 (new body)
    with BuildSketch(Plane.XY):
        Circle(CYLINDER030_R)
    extrude(amount=CYLINDER030_DEPTH)


with BuildPart() as cylinder030_1:
    # Cylinder030 pitch: moved
    add(cylinder030.part.rotate(Axis((0, 0, 0), (0, 1, 0)), CYLINDER030_PITCH_ANGLE))


with BuildPart() as cylinder030_2:
    # Cylinder030 placement: moved
    add(cylinder030_1.part.moved(Location((0, 15, 27))))


with BuildPart() as cylinder029:
    # Cylinder029 → Cylinder029 (new body)
    with BuildSketch(Plane.XY):
        Circle(CYLINDER029_R)
    extrude(amount=CYLINDER029_DEPTH)


with BuildPart() as cylinder029_1:
    # Cylinder029 pitch: moved
    add(cylinder029.part.rotate(Axis((0, 0, 0), (0, 1, 0)), CYLINDER029_PITCH_ANGLE))


with BuildPart() as cylinder029_2:
    # Cylinder029 placement: moved
    add(cylinder029_1.part.moved(Location((28.5, 15, 27))))


with BuildPart() as fusion018:
    # Cylinder031 → Cylinder031 (new body)
    with BuildSketch(Plane.XY):
        Circle(CYLINDER031_R)
    extrude(amount=CYLINDER031_DEPTH)


with BuildPart() as fusion018_1:
    # Cylinder031 pitch: moved
    add(fusion018.part.rotate(Axis((0, 0, 0), (0, 1, 0)), CYLINDER031_PITCH_ANGLE))


with BuildPart() as fusion018_2:
    # Cylinder031 placement: moved
    add(fusion018_1.part.moved(Location((0, 15, 27))))

    # Fusion018: union Cylinder030, Cylinder029
    add(cylinder030_2.part)
    add(cylinder029_2.part)


with BuildPart() as cylinder027:
    # Cylinder027 → Cylinder027 (new body)
    with BuildSketch(Plane.XY):
        Circle(CYLINDER027_R)
    extrude(amount=CYLINDER027_DEPTH)


with BuildPart() as cylinder027_1:
    # Cylinder027 pitch: moved
    add(cylinder027.part.rotate(Axis((0, 0, 0), (0, 1, 0)), CYLINDER027_PITCH_ANGLE))


with BuildPart() as cylinder027_2:
    # Cylinder027 placement: moved
    add(cylinder027_1.part.moved(Location((30, 4, 5))))


with BuildPart() as cylinder026:
    # Cylinder026 → Cylinder026 (new body)
    with BuildSketch(Plane.XY):
        Circle(CYLINDER026_R)
    extrude(amount=CYLINDER026_DEPTH)


with BuildPart() as cylinder026_1:
    # Cylinder026 pitch: moved
    add(cylinder026.part.rotate(Axis((0, 0, 0), (0, 1, 0)), CYLINDER026_PITCH_ANGLE))


with BuildPart() as cylinder026_2:
    # Cylinder026 placement: moved
    add(cylinder026_1.part.moved(Location((30, 26, 5))))


with BuildPart() as cylinder025:
    # Cylinder025 → Cylinder025 (new body)
    with BuildSketch(Plane.XY):
        Circle(CYLINDER025_R)
    extrude(amount=CYLINDER025_DEPTH)


with BuildPart() as cylinder025_1:
    # Cylinder025 pitch: moved
    add(cylinder025.part.rotate(Axis((0, 0, 0), (0, 1, 0)), CYLINDER025_PITCH_ANGLE))


with BuildPart() as cylinder025_2:
    # Cylinder025 placement: moved
    add(cylinder025_1.part.moved(Location((30, 25, 36))))


with BuildPart() as fusion016:
    # Cylinder024 → Cylinder024 (new body)
    with BuildSketch(Plane.XY):
        Circle(CYLINDER024_R)
    extrude(amount=CYLINDER024_DEPTH)


with BuildPart() as fusion016_1:
    # Cylinder024 pitch: moved
    add(fusion016.part.rotate(Axis((0, 0, 0), (0, 1, 0)), CYLINDER024_PITCH_ANGLE))


with BuildPart() as fusion016_2:
    # Cylinder024 placement: moved
    add(fusion016_1.part.moved(Location((30, 5, 36))))

    # Fusion016: union Cylinder027, Cylinder026, Cylinder025
    add(cylinder027_2.part)
    add(cylinder026_2.part)
    add(cylinder025_2.part)


with BuildPart() as fusion016_3:
    # Fusion016 placement: moved
    add(fusion016_2.part.moved(Location((-12, 0, 0))))


with BuildPart() as cylinder023:
    # Cylinder023 → Cylinder023 (new body)
    with BuildSketch(Plane.XY):
        Circle(CYLINDER023_R)
    extrude(amount=CYLINDER023_DEPTH)


with BuildPart() as cylinder023_1:
    # Cylinder023 pitch: moved
    add(cylinder023.part.rotate(Axis((0, 0, 0), (0, 1, 0)), CYLINDER023_PITCH_ANGLE))


with BuildPart() as cylinder023_2:
    # Cylinder023 placement: moved
    add(cylinder023_1.part.moved(Location((23, 15, 19))))


with BuildPart() as box008:
    # Box008 → Box008 (new body)
    with BuildSketch(Plane(origin=(33, -3, 0), x_dir=(1, 0, 0), z_dir=(0, 0, 1))):
        with Locations((11, 18)):
            Rectangle(BOX008_W, BOX008_H)
    extrude(amount=BOX008_DEPTH)


with BuildPart() as cylinder:
    # Cylinder → Cylinder (new body)
    with BuildSketch(Plane.XY):
        Circle(CYLINDER_R)
    extrude(amount=CYLINDER_DEPTH)


with BuildPart() as cylinder_1:
    # Cylinder pitch: moved
    add(cylinder.part.rotate(Axis((0, 0, 0), (0, 1, 0)), CYLINDER_PITCH_ANGLE))


with BuildPart() as cylinder_2:
    # Cylinder placement: moved
    add(cylinder_1.part.moved(Location((33, 15, 18))))


with BuildPart() as fillet009:
    # Box005 → Box005 (new body)
    with BuildSketch(Plane.XY.offset(5)):
        with Locations((11.5, 15)):
            Rectangle(BOX005_W, BOX005_H)
    extrude(amount=BOX005_DEPTH)

    # Fillet008
    fillet008_edges = [fillet009.edges().sort_by_distance(p)[0] for p in [
        (11.5, 0, 5),
        (11.5, 30, 5),
    ]]
    fillet(fillet008_edges, radius=FILLET008_R)

    # Fillet009
    fillet009_edges = [fillet009.edges().sort_by_distance(p)[0] for p in [
        (11.5, 0, 40),
        (11.5, 30, 40),
    ]]
    fillet(fillet009_edges, radius=FILLET009_R)


with BuildPart() as cut009:
    # Box006 → Box006 (new body)
    with BuildSketch(Plane(origin=(23, 0, 0), x_dir=(1, 0, 0), z_dir=(0, 0, 1))):
        with Locations((16, 15)):
            Rectangle(BOX006_W, BOX006_H)
    extrude(amount=BOX006_DEPTH)

    # Fillet
    fillet_edges = [cut009.edges().sort_by_distance(p)[0] for p in [
        (39, 0, 0),
        (39, 30, 0),
    ]]
    fillet(fillet_edges, radius=FILLET_R)

    # Fillet007
    fillet007_edges = [cut009.edges().sort_by_distance(p)[0] for p in [
        (39, 0, 40),
        (39, 30, 40),
    ]]
    fillet(fillet007_edges, radius=FILLET007_R)

    # Fusion007: union Fillet009
    add(fillet009.part)

    # Fusion: union Cylinder
    add(cylinder_2.part)

    # Cut006: cut Box008
    add(box008.part, mode=Mode.SUBTRACT)

    # Fusion015: union Cylinder023
    add(cylinder023_2.part)

    # Cut009: cut Fusion016
    add(fusion016_3.part, mode=Mode.SUBTRACT)


with BuildPart() as cube001:
    # Box004 → Box004 (new body)
    with BuildSketch(Plane(origin=(0, -10, 38), x_dir=(1, 0, 0), z_dir=(0, 0, 1))):
        with Locations((5, 25)):
            Rectangle(BOX004_W, BOX004_H)
    extrude(amount=BOX004_DEPTH)


with BuildPart() as fusion040:
    # Box003 → Box003 (new body)
    with BuildSketch(Plane(origin=(0, -25, 24), x_dir=(1, 0, 0), z_dir=(0, 0, 1))):
        with Locations((5, 40)):
            Rectangle(BOX003_W, BOX003_H)
    extrude(amount=BOX003_DEPTH)

    # Fillet006
    fillet006_edges = [fusion040.edges().sort_by_distance(p)[0] for p in [
        (5, -25, 24),
        (5, -25, 41),
        (5, 55, 24),
        (5, 55, 41),
    ]]
    fillet(fillet006_edges, radius=FILLET006_R)

    # Cut: cut Cube001
    add(cube001.part, mode=Mode.SUBTRACT)

    # Chamfer
    chamfer_edges = [fusion040.edges().sort_by_distance(p)[0] for p in [
        (5, -10, 41),
        (5, 40, 41),
    ]]
    chamfer(chamfer_edges, length=CHAMFER_SIZE)

    # Fusion017: union Cut009
    add(cut009.part)

    # Cut010: cut Fusion018
    add(fusion018_2.part, mode=Mode.SUBTRACT)

    # Cut013: cut Fusion020
    add(fusion020_2.part, mode=Mode.SUBTRACT)

    # Cut019: cut Fusion026
    add(fusion026_2.part, mode=Mode.SUBTRACT)

    # Cut032: cut Box018
    add(box018.part, mode=Mode.SUBTRACT)

    # Cut033: cut Fillet028
    add(fillet028_1.part, mode=Mode.SUBTRACT)

    # Fusion040: union Cut034
    add(cut034_2.part)


with BuildPart() as front_part:
    # Cylinder084 → Cylinder084 (new body)
    with BuildSketch(Plane.XY):
        Circle(CYLINDER084_R)
    extrude(amount=CYLINDER084_DEPTH)


with BuildPart() as front_part_1:
    # Cylinder084 pitch: moved
    add(front_part.part.rotate(Axis((0, 0, 0), (0, 1, 0)), CYLINDER084_PITCH_ANGLE))


with BuildPart() as front_part_2:
    # Cylinder084 placement: moved
    add(front_part_1.part.moved(Location((0, 24.5, 27))))

    # Fusion047: union Cylinder083, Fusion040
    add(cylinder083_2.part)
    add(fusion040.part)

    # Cut040: cut Fusion048
    add(fusion048_3.part, mode=Mode.SUBTRACT)

    # Cut046: cut Fusion055
    add(fusion055_2.part, mode=Mode.SUBTRACT)


solid = front_part_2.part
